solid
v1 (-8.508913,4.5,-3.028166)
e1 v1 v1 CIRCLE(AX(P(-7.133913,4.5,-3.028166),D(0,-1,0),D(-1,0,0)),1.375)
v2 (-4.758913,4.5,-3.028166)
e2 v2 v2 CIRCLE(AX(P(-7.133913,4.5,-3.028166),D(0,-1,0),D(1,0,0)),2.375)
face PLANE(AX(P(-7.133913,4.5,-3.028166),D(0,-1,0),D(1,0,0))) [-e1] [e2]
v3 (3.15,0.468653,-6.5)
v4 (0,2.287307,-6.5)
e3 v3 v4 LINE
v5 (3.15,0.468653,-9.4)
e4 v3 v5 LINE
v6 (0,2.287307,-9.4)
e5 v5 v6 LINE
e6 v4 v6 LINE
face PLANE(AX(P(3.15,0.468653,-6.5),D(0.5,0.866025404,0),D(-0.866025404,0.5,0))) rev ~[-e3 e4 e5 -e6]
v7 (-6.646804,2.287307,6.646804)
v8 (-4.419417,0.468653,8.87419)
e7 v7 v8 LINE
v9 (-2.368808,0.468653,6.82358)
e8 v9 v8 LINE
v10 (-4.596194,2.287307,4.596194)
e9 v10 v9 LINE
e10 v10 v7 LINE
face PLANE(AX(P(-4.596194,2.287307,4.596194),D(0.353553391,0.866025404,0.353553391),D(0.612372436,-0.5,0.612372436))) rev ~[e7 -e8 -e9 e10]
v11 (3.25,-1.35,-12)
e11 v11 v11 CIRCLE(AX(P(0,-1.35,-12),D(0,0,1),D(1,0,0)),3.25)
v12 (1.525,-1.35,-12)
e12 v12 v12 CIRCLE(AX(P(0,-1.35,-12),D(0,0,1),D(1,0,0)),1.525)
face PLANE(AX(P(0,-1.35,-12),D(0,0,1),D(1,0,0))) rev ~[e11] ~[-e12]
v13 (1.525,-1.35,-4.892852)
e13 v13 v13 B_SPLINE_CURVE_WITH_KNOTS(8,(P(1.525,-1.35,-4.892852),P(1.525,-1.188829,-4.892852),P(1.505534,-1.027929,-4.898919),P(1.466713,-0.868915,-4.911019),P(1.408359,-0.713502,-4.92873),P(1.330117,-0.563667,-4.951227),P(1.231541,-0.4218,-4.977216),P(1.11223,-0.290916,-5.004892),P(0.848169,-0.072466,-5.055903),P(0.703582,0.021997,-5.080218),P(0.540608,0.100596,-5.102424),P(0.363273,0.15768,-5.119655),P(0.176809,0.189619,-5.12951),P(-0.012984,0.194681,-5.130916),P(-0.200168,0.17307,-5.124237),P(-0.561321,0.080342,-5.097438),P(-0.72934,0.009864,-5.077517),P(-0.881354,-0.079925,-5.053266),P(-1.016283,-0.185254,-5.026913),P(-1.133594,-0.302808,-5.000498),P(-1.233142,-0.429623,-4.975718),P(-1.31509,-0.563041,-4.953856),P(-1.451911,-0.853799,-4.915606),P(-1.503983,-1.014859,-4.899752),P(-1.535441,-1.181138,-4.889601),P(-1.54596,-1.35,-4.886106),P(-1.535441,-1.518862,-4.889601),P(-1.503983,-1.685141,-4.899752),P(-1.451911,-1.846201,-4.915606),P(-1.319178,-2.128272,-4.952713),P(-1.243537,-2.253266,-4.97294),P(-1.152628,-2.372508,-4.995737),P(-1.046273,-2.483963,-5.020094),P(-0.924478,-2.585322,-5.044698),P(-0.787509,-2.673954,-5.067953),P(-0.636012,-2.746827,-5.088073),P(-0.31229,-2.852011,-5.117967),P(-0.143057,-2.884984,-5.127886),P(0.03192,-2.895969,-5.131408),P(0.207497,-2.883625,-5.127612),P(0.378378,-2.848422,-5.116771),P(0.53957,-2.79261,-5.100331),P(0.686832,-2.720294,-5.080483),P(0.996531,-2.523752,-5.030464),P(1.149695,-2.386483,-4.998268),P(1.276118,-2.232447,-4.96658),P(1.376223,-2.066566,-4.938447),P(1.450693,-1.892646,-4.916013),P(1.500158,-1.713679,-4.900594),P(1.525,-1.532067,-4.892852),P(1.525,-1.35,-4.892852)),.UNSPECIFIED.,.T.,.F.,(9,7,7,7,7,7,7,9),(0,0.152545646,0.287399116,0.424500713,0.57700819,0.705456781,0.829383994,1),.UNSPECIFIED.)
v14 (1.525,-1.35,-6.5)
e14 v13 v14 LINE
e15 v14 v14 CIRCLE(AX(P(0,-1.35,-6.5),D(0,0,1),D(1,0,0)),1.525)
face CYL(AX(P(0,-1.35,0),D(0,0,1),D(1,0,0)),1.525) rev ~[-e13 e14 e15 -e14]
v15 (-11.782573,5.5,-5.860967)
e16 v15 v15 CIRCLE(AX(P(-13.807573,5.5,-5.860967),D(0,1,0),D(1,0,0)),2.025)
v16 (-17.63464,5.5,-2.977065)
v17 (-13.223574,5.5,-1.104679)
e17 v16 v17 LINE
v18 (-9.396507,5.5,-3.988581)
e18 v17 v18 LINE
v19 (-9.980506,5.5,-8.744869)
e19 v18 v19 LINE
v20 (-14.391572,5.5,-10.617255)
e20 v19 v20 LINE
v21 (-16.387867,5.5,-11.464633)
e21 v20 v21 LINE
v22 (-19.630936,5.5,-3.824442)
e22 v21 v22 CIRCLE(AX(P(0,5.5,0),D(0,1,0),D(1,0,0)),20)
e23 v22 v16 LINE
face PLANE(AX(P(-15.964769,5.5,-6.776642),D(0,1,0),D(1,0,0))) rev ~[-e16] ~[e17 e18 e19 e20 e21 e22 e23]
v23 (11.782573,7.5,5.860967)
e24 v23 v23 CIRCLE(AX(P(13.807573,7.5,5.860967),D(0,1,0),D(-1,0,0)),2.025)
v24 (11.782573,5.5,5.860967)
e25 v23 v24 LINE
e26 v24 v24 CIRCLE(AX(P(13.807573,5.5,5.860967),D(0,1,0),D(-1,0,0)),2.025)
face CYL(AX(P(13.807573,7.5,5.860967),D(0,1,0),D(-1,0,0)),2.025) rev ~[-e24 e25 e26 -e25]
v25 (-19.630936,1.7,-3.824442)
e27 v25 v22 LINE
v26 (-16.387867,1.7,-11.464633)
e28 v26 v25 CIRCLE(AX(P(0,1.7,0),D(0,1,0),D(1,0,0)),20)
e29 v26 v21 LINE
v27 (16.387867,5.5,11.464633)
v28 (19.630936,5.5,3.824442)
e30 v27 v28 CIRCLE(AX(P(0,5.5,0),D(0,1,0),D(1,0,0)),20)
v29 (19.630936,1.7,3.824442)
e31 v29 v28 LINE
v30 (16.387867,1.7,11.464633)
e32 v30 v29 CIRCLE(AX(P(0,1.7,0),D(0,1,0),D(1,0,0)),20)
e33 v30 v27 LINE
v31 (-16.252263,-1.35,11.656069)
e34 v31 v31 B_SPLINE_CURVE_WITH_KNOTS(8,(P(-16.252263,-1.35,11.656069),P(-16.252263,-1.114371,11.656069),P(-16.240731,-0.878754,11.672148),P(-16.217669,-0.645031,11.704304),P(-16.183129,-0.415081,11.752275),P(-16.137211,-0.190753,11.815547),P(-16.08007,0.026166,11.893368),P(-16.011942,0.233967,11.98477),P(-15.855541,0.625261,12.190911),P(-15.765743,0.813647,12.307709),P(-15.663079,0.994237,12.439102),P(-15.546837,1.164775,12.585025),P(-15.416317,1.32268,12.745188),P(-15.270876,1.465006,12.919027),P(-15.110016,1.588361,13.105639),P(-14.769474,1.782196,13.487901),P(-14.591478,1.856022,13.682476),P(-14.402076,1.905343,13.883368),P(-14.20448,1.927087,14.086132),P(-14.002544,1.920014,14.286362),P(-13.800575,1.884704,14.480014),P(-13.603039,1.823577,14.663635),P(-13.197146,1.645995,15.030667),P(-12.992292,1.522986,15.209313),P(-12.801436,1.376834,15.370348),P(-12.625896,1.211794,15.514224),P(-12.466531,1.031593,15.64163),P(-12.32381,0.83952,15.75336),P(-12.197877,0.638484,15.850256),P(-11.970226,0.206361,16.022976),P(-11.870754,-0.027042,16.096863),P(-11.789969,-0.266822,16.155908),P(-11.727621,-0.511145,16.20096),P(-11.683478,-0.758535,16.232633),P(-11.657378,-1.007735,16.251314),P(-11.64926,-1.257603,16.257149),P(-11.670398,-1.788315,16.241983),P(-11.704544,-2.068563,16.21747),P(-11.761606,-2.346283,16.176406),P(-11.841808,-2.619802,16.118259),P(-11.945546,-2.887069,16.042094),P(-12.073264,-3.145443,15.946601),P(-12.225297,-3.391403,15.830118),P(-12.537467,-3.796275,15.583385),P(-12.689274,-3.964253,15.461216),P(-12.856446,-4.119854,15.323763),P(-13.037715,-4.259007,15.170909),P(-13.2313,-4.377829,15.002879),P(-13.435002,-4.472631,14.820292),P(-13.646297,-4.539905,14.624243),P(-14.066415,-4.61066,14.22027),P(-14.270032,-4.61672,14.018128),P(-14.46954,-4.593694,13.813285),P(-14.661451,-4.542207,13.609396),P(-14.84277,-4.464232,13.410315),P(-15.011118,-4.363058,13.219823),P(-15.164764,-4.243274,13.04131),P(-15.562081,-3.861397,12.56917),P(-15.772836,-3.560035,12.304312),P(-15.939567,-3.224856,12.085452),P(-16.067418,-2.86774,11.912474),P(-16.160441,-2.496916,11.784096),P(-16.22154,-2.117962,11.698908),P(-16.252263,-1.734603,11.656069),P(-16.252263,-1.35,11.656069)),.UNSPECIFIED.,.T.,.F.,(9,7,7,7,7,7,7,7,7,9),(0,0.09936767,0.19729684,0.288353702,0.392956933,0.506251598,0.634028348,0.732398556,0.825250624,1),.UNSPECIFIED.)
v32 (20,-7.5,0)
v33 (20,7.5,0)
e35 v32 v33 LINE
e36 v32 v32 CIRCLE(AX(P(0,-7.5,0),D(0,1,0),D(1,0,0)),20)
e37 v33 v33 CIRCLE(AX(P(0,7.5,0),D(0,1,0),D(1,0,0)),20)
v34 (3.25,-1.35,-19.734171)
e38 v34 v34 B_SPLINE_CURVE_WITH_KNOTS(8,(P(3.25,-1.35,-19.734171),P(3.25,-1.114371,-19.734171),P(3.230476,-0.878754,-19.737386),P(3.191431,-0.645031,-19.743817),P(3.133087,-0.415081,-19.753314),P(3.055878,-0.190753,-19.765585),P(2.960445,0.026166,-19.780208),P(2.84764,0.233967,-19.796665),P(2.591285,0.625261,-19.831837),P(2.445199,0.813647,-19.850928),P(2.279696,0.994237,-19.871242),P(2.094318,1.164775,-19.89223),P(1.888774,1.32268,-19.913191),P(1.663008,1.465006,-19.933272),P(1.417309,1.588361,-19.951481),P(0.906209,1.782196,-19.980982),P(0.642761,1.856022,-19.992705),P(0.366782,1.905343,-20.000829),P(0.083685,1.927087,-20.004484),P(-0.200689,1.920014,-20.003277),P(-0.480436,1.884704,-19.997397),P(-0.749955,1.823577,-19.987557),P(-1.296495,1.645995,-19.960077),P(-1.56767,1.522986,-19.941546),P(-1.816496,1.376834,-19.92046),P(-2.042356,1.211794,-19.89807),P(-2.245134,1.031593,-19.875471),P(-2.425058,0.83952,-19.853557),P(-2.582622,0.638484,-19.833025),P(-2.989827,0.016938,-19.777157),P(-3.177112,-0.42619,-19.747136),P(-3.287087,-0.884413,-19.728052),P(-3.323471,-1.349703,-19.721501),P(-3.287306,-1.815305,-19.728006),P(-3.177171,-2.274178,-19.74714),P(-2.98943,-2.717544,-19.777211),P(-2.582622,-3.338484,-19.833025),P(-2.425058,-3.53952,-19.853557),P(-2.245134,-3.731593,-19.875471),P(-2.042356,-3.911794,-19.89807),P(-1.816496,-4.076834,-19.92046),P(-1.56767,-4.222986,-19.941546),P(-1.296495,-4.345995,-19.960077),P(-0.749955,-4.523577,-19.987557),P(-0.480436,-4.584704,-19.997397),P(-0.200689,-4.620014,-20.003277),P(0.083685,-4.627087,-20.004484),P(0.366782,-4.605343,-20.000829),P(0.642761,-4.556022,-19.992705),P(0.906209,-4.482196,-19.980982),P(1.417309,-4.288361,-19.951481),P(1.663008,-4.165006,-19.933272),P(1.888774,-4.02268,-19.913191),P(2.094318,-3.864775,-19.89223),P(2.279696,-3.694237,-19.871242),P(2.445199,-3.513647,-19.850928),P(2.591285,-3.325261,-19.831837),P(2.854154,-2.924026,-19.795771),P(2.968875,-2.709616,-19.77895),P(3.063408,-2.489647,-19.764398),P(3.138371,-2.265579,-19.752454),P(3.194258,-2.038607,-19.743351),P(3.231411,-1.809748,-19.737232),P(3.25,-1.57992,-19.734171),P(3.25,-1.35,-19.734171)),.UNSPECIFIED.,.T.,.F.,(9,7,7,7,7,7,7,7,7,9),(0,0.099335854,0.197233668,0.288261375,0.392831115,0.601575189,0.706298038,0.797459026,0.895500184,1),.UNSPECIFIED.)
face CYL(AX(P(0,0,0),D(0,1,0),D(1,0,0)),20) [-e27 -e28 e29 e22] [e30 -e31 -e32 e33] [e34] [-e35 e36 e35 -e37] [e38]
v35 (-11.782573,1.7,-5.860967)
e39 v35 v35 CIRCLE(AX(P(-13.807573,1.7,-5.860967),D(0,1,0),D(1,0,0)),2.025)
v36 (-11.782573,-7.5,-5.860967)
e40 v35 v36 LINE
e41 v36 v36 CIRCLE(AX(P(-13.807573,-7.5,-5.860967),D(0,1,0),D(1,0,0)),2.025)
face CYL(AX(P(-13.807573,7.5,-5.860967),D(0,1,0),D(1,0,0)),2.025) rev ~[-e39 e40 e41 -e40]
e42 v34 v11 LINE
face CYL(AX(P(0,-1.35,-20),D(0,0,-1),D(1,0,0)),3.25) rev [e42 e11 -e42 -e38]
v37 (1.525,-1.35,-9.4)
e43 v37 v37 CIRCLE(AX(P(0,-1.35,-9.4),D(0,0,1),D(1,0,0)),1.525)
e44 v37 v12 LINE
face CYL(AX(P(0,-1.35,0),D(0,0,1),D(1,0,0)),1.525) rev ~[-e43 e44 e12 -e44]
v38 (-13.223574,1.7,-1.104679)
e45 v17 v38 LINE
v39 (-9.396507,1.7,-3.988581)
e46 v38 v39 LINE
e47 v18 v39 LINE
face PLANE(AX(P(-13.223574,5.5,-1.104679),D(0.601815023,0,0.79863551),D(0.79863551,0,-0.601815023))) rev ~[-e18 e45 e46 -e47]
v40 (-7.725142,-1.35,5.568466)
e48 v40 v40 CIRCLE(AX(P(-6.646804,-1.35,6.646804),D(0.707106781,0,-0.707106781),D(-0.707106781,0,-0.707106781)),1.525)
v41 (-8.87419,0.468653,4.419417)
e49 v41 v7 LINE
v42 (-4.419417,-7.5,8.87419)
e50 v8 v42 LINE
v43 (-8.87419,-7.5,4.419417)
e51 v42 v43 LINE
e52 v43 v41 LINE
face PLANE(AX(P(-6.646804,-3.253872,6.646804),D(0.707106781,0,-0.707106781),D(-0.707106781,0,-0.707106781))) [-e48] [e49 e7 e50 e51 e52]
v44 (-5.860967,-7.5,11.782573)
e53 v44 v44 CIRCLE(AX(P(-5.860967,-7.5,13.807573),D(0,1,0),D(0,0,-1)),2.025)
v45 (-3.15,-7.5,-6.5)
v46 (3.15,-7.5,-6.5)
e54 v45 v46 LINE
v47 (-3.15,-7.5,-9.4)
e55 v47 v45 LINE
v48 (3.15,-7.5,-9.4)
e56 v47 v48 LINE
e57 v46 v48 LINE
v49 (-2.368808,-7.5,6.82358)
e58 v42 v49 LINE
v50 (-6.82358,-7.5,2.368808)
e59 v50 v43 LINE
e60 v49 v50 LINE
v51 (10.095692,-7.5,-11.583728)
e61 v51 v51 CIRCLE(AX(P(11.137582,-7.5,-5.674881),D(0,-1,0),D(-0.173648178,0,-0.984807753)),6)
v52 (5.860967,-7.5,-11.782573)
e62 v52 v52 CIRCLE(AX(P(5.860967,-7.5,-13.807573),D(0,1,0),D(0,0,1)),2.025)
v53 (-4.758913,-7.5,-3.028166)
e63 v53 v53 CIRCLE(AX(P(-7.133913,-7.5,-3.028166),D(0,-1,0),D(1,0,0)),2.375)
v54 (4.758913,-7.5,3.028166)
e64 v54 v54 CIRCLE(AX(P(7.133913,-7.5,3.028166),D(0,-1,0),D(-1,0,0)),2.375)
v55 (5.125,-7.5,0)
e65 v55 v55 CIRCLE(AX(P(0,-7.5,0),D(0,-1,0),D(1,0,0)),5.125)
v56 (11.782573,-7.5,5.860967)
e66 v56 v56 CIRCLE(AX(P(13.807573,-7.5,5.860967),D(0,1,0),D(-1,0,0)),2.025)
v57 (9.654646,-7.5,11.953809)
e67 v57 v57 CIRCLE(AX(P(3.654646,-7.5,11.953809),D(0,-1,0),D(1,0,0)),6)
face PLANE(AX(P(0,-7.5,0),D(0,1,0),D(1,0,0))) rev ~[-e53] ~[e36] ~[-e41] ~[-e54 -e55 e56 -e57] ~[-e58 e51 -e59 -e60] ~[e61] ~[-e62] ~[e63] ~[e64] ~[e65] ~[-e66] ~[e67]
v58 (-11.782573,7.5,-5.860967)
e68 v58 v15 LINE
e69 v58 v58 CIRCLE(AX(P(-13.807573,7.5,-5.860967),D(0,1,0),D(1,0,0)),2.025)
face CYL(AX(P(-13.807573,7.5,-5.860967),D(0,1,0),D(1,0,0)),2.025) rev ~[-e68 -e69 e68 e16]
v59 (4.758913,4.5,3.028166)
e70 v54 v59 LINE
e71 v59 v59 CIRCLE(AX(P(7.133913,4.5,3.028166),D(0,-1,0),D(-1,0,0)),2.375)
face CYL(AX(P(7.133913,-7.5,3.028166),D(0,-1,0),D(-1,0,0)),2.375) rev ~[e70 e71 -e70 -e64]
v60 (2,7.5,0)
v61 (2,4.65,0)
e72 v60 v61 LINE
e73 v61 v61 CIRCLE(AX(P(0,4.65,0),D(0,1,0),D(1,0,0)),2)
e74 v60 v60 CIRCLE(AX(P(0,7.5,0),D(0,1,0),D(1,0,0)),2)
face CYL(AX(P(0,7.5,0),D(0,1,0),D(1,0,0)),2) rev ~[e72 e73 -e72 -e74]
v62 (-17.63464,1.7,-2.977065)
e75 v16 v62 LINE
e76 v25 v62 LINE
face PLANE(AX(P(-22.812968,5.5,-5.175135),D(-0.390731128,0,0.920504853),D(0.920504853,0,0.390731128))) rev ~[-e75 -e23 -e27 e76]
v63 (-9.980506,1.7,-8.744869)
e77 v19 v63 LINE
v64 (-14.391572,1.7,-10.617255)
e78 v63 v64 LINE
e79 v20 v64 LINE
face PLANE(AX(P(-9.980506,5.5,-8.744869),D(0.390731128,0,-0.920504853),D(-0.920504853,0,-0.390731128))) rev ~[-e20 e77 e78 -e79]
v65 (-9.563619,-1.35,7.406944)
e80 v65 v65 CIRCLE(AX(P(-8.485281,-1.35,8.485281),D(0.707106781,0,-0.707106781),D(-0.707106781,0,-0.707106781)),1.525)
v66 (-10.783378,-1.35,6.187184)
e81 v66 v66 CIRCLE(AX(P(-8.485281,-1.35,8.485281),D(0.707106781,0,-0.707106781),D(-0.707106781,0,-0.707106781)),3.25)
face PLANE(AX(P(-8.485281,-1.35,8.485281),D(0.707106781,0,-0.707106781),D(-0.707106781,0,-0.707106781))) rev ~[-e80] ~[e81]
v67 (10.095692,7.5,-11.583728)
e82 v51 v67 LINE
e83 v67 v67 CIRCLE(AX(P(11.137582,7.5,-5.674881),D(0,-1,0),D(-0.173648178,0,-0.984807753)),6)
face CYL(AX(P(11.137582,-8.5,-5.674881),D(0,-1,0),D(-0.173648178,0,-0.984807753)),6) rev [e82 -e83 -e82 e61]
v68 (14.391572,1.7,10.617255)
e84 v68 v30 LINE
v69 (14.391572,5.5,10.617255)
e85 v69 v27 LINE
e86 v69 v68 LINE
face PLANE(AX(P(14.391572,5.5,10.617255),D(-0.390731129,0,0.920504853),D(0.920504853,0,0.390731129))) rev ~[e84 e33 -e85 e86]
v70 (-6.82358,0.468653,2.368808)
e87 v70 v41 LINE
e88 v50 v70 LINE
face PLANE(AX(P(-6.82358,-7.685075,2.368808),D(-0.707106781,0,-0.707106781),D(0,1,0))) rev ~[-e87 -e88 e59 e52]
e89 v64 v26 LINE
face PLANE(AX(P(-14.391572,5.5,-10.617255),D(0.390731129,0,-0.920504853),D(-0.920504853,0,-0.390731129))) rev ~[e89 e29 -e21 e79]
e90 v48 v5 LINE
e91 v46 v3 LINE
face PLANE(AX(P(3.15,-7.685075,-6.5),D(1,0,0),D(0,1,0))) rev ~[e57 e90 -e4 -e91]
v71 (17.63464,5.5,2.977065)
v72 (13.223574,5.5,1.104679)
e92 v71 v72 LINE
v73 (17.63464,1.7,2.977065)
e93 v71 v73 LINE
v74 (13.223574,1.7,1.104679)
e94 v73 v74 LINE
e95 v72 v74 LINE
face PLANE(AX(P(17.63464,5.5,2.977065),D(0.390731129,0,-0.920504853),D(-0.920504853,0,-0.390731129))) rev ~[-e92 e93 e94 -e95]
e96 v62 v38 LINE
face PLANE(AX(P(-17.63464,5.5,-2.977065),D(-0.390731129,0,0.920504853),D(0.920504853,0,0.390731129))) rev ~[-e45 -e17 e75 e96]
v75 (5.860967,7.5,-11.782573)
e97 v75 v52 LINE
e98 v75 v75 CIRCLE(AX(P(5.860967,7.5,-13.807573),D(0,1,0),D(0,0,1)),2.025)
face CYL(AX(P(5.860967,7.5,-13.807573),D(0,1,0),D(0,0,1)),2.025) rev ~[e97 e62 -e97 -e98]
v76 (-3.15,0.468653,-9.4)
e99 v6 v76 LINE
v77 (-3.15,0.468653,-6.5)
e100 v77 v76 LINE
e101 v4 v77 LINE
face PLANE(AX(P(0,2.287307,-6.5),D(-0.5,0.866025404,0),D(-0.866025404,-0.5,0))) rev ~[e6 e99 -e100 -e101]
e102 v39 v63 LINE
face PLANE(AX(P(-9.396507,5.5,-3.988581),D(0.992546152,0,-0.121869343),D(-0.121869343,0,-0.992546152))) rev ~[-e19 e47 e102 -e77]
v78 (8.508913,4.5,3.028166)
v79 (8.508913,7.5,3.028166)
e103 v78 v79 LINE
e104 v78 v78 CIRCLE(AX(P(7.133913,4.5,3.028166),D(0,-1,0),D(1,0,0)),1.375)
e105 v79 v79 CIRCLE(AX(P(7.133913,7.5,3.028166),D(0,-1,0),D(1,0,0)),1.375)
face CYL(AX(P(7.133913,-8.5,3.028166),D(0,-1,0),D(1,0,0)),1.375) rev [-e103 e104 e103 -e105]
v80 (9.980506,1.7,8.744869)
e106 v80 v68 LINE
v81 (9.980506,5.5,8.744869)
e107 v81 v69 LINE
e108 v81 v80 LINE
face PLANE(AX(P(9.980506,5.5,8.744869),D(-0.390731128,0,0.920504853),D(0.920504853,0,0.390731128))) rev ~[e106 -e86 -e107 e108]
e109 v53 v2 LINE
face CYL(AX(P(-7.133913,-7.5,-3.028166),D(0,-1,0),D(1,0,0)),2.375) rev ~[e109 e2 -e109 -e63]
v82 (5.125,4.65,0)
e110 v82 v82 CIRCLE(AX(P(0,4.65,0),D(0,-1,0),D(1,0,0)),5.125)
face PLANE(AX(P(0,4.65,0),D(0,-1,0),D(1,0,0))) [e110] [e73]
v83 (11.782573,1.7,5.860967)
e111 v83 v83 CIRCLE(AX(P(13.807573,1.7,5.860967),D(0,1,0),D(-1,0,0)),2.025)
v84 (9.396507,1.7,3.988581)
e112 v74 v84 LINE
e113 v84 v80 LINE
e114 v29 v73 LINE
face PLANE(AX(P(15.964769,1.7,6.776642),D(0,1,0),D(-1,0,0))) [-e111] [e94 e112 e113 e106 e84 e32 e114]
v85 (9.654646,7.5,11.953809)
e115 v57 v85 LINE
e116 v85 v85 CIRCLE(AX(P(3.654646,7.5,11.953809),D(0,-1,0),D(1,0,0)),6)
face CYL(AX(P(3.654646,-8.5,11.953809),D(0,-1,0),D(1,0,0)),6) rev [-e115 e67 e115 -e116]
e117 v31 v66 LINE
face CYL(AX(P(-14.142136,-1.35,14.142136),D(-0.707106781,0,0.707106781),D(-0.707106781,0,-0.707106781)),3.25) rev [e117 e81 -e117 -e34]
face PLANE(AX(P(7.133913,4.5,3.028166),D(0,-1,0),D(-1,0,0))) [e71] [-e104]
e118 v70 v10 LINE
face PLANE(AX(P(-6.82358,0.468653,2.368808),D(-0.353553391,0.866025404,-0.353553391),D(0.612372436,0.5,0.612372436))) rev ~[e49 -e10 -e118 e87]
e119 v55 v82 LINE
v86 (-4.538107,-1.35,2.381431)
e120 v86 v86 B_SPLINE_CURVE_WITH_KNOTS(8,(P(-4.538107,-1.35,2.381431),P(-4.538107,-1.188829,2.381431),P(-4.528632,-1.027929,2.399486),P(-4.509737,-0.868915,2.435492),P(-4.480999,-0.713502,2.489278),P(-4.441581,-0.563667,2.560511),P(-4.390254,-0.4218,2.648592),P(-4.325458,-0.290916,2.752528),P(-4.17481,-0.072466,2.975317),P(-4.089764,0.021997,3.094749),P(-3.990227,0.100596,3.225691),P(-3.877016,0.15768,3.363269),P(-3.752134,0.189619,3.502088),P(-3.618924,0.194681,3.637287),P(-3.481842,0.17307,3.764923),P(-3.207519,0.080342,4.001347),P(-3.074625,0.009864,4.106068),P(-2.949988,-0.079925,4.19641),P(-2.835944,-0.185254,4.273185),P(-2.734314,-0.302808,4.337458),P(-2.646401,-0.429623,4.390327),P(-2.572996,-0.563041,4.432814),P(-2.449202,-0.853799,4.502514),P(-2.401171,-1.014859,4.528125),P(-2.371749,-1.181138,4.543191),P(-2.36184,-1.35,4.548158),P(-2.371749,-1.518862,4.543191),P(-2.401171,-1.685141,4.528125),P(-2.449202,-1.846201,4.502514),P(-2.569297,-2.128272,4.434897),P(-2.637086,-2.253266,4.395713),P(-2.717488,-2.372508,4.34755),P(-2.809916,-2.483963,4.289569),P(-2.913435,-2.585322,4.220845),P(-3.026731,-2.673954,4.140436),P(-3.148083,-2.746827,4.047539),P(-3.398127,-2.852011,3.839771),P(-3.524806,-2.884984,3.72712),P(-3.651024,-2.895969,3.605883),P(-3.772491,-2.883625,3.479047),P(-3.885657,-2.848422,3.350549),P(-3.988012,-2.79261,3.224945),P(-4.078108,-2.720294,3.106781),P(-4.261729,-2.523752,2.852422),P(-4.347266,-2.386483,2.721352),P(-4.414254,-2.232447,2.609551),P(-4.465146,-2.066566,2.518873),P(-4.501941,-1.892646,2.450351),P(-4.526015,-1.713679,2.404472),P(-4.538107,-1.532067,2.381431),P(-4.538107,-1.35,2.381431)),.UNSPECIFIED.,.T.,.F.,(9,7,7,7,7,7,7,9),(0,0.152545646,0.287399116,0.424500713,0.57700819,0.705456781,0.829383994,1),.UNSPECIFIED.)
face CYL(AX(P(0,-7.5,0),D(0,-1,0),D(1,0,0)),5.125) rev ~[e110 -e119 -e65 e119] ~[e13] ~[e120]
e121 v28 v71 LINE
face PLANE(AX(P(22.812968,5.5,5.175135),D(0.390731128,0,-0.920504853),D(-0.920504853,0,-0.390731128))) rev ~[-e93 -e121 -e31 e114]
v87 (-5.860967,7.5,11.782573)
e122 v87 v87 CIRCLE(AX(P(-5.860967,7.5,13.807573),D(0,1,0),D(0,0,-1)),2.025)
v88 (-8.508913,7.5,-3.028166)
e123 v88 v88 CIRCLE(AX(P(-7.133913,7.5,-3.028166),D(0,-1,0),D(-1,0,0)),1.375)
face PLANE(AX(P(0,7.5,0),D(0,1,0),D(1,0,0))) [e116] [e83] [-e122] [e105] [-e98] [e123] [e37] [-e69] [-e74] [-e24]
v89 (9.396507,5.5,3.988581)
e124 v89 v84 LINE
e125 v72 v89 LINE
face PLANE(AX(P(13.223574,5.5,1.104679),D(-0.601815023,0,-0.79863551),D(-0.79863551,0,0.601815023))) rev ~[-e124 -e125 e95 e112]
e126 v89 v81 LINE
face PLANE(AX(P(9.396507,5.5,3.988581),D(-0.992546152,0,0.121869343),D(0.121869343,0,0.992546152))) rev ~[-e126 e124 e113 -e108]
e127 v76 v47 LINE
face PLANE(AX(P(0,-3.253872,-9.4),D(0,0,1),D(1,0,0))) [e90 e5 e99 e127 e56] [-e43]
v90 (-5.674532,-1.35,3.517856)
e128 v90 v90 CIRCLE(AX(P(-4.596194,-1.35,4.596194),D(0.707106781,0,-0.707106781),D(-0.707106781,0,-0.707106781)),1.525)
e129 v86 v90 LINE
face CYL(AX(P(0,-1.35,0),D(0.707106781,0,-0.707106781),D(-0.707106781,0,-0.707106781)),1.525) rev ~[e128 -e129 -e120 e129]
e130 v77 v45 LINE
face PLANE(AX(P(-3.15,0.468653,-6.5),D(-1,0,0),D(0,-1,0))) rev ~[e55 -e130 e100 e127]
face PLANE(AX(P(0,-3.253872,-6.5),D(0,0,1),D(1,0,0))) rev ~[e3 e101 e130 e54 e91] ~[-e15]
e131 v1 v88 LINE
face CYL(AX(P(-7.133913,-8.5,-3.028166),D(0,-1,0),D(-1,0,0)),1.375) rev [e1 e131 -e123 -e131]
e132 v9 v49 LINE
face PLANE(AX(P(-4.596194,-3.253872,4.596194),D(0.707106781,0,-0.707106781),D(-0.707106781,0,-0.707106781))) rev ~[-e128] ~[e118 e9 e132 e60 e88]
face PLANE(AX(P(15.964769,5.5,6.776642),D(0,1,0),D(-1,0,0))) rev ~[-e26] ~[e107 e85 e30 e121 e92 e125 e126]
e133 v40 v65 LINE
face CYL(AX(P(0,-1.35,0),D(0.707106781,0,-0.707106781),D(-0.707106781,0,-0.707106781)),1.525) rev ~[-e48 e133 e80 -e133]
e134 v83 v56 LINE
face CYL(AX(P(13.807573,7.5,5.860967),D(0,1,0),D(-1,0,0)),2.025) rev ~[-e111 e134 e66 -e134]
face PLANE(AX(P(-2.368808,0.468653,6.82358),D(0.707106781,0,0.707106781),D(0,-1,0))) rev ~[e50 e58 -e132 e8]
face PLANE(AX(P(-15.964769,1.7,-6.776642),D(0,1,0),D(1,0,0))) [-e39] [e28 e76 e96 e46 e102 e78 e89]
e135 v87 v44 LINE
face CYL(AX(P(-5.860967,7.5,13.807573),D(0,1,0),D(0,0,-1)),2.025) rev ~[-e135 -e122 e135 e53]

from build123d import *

# Parameters (mm, degrees)
SKETCH1_R               = 20
BOSS_EXTRUDE1_DEPTH     = 7.5
SKETCH4_R               = 5.125
CUT_EXTRUDE2_DEPTH      = 12.15
SKETCH5_R               = 2
CUT_EXTRUDE3_DEPTH      = 1
CUT_EXTRUDE3_DEPTH_BACK = 16
SKETCH2_R               = 2.025
CUT_EXTRUDE1_DEPTH      = 16
CIRPATTERN1_COUNT       = 4
SKETCH6_R               = 1.525
CUT_EXTRUDE4_DEPTH      = 21
CUT_EXTRUDE5_START      = -20
SKETCH7_R               = 3.25
CUT_EXTRUDE5_DEPTH      = 8
CUT_EXTRUDE11_START     = -6.5
CUT_EXTRUDE11_DEPTH     = 2.9
CIRPATTERN2_COUNT       = 2
CIRPATTERN2_ANGLE       = 135
CUT_EXTRUDE7_START      = 5.5
CUT_EXTRUDE7_DEPTH      = 3.8
CIRPATTERN3_COUNT       = 2
CUT_EXTRUDE12_START     = -16.0000001
SKETCH10_R              = 6
CUT_EXTRUDE12_DEPTH     = 17.0000002
CIRPATTERN4_COUNT       = 2
CIRPATTERN4_ANGLE       = 100
CUT_EXTRUDE13_START     = -16.0000001
SKETCH11_R              = 1.375
CUT_EXTRUDE13_DEPTH     = 17.0000002
SKETCH13_R              = 2.375
CUT_EXTRUDE24_DEPTH     = 12
CIRPATTERN5_COUNT       = 2


with BuildPart() as part:
    # Sketch1 → Boss-Extrude1 (new body, symmetric)
    with BuildSketch(Plane(origin=(0, 0, 0), x_dir=(1, 0, 0), z_dir=(0, 1, 0))):
        Circle(SKETCH1_R)
    extrude(amount=BOSS_EXTRUDE1_DEPTH, both=True)

    # Sketch4 → Cut-Extrude2 (cut)
    with BuildSketch(Plane.XZ.offset(7.5)):
        Circle(SKETCH4_R)
    extrude(amount=-CUT_EXTRUDE2_DEPTH, mode=Mode.SUBTRACT)

    # Sketch5 → Cut-Extrude3 (cut, two sides)
    with BuildSketch(Plane(origin=(0, 7.5, 0), x_dir=(1, 0, 0), z_dir=(0, 1, 0))) as cut_extrude3_sk:
        Circle(SKETCH5_R)
    extrude(amount=CUT_EXTRUDE3_DEPTH, mode=Mode.SUBTRACT)
    extrude(cut_extrude3_sk.sketch, amount=-CUT_EXTRUDE3_DEPTH_BACK, mode=Mode.SUBTRACT)

    # Sketch2 → Cut-Extrude1 (cut, through all)
    with BuildSketch(Plane(origin=(0, 7.5, 0), x_dir=(1, 0, 0), z_dir=(0, 1, 0))):
        with Locations((-13.807572802, 5.860966927)):
            Circle(SKETCH2_R)
    cut_extrude1 = extrude(amount=-CUT_EXTRUDE1_DEPTH, mode=Mode.SUBTRACT)

    # CirPattern1: Cut-Extrude1 ×4 about axis
    cirpattern1_axis = Axis((0, 0, 0), (0, 1, 0))
    for i in range(1, CIRPATTERN1_COUNT):
        add(cut_extrude1.rotate(cirpattern1_axis, i * 360 / CIRPATTERN1_COUNT), mode=Mode.SUBTRACT)

    # Sketch6 → Cut-Extrude4 (cut, through all)
    with BuildSketch(Plane.XY):
        with Locations((0, -1.35)):
            Circle(SKETCH6_R)
    cut_extrude4 = extrude(amount=-CUT_EXTRUDE4_DEPTH, mode=Mode.SUBTRACT)

    # Sketch7 → Cut-Extrude5 (cut)
    with BuildSketch(Plane.XY.offset(CUT_EXTRUDE5_START)):
        with Locations((0, -1.35)):
            Circle(SKETCH7_R)
    cut_extrude5 = extrude(amount=CUT_EXTRUDE5_DEPTH, mode=Mode.SUBTRACT)

    # Sketch9 → Cut-Extrude11 (cut)
    with BuildSketch(Plane.XY.offset(CUT_EXTRUDE11_START)):
        Polygon((3.15, -3.168653348), (3.15, 0.468653348), (0, 2.287306696), (-3.15, 0.468653348), (-3.15, -3.168653348), (-3.15, -7.685074736), (3.15, -7.685074736), align=None)
    cut_extrude11 = extrude(amount=-CUT_EXTRUDE11_DEPTH, mode=Mode.SUBTRACT)

    # CirPattern2: Cut-Extrude4, Cut-Extrude5, Cut-Extrude11 ×2 about axis
    cirpattern2_axis = Axis((0, 0, 0), (0, 1, 0))
    for i in range(1, CIRPATTERN2_COUNT):
        add(cut_extrude4.rotate(cirpattern2_axis, i * CIRPATTERN2_ANGLE / (CIRPATTERN2_COUNT - 1)), mode=Mode.SUBTRACT)
        add(cut_extrude5.rotate(cirpattern2_axis, i * CIRPATTERN2_ANGLE / (CIRPATTERN2_COUNT - 1)), mode=Mode.SUBTRACT)
        add(cut_extrude11.rotate(cirpattern2_axis, i * CIRPATTERN2_ANGLE / (CIRPATTERN2_COUNT - 1)), mode=Mode.SUBTRACT)

    # Sketch8 → Cut-Extrude7 (cut)
    with BuildSketch(Plane(origin=(0, 0, 0), x_dir=(1, 0, 0), z_dir=(0, 1, 0)).offset(CUT_EXTRUDE7_START)):
        Polygon((-9.396506885, 3.988580533), (-9.98050566, 8.744868872), (-14.391571577, 10.617255266), (-19.569899143, 12.815324908), (-22.81296751, 5.175134625), (-17.634639943, 2.977064983), (-13.223574027, 1.104678588), align=None)
    cut_extrude7 = extrude(amount=-CUT_EXTRUDE7_DEPTH, mode=Mode.SUBTRACT)

    # CirPattern3: Cut-Extrude7 ×2 about axis
    cirpattern3_axis = Axis((0, 0, 0), (0, 1, 0))
    for i in range(1, CIRPATTERN3_COUNT):
        add(cut_extrude7.rotate(cirpattern3_axis, i * 360 / CIRPATTERN3_COUNT), mode=Mode.SUBTRACT)

    # Sketch10 → Cut-Extrude12 (cut)
    with BuildSketch(Plane(origin=(0, 7.5, 0), x_dir=(1, 0, 0), z_dir=(0, 1, 0)).offset(CUT_EXTRUDE12_START)):
        with Locations((3.654646309, -11.95380945)):
            Circle(SKETCH10_R)
    cut_extrude12 = extrude(amount=CUT_EXTRUDE12_DEPTH, mode=Mode.SUBTRACT)

    # CirPattern4: Cut-Extrude12 ×2 about axis
    cirpattern4_axis = Axis((0, 7.5, 0), (0, 1, 0))
    for i in range(1, CIRPATTERN4_COUNT):
        add(cut_extrude12.rotate(cirpattern4_axis, i * CIRPATTERN4_ANGLE / (CIRPATTERN4_COUNT - 1)), mode=Mode.SUBTRACT)

    # Sketch11 → Cut-Extrude13 (cut)
    with BuildSketch(Plane(origin=(0, 7.5, 0), x_dir=(1, 0, 0), z_dir=(0, 1, 0)).offset(CUT_EXTRUDE13_START)):
        with Locations((7.133912614, -3.028166246)):
            Circle(SKETCH11_R)
    cut_extrude13 = extrude(amount=CUT_EXTRUDE13_DEPTH, mode=Mode.SUBTRACT)

    # Sketch13 → Cut-Extrude24 (cut)
    with BuildSketch(Plane(origin=(0, -7.5, 0), x_dir=(-1, 0, 0), z_dir=(0, -1, 0))):
        with Locations((-7.133912614, -3.028166246)):
            Circle(SKETCH13_R)
    cut_extrude24 = extrude(amount=-CUT_EXTRUDE24_DEPTH, mode=Mode.SUBTRACT)

    # CirPattern5: Cut-Extrude13, Cut-Extrude24 ×2 about axis
    cirpattern5_axis = Axis((0, 0, 0), (0, 1, 0))
    for i in range(1, CIRPATTERN5_COUNT):
        add(cut_extrude13.rotate(cirpattern5_axis, i * 360 / CIRPATTERN5_COUNT), mode=Mode.SUBTRACT)
        add(cut_extrude24.rotate(cirpattern5_axis, i * 360 / CIRPATTERN5_COUNT), mode=Mode.SUBTRACT)


solid = part.part
